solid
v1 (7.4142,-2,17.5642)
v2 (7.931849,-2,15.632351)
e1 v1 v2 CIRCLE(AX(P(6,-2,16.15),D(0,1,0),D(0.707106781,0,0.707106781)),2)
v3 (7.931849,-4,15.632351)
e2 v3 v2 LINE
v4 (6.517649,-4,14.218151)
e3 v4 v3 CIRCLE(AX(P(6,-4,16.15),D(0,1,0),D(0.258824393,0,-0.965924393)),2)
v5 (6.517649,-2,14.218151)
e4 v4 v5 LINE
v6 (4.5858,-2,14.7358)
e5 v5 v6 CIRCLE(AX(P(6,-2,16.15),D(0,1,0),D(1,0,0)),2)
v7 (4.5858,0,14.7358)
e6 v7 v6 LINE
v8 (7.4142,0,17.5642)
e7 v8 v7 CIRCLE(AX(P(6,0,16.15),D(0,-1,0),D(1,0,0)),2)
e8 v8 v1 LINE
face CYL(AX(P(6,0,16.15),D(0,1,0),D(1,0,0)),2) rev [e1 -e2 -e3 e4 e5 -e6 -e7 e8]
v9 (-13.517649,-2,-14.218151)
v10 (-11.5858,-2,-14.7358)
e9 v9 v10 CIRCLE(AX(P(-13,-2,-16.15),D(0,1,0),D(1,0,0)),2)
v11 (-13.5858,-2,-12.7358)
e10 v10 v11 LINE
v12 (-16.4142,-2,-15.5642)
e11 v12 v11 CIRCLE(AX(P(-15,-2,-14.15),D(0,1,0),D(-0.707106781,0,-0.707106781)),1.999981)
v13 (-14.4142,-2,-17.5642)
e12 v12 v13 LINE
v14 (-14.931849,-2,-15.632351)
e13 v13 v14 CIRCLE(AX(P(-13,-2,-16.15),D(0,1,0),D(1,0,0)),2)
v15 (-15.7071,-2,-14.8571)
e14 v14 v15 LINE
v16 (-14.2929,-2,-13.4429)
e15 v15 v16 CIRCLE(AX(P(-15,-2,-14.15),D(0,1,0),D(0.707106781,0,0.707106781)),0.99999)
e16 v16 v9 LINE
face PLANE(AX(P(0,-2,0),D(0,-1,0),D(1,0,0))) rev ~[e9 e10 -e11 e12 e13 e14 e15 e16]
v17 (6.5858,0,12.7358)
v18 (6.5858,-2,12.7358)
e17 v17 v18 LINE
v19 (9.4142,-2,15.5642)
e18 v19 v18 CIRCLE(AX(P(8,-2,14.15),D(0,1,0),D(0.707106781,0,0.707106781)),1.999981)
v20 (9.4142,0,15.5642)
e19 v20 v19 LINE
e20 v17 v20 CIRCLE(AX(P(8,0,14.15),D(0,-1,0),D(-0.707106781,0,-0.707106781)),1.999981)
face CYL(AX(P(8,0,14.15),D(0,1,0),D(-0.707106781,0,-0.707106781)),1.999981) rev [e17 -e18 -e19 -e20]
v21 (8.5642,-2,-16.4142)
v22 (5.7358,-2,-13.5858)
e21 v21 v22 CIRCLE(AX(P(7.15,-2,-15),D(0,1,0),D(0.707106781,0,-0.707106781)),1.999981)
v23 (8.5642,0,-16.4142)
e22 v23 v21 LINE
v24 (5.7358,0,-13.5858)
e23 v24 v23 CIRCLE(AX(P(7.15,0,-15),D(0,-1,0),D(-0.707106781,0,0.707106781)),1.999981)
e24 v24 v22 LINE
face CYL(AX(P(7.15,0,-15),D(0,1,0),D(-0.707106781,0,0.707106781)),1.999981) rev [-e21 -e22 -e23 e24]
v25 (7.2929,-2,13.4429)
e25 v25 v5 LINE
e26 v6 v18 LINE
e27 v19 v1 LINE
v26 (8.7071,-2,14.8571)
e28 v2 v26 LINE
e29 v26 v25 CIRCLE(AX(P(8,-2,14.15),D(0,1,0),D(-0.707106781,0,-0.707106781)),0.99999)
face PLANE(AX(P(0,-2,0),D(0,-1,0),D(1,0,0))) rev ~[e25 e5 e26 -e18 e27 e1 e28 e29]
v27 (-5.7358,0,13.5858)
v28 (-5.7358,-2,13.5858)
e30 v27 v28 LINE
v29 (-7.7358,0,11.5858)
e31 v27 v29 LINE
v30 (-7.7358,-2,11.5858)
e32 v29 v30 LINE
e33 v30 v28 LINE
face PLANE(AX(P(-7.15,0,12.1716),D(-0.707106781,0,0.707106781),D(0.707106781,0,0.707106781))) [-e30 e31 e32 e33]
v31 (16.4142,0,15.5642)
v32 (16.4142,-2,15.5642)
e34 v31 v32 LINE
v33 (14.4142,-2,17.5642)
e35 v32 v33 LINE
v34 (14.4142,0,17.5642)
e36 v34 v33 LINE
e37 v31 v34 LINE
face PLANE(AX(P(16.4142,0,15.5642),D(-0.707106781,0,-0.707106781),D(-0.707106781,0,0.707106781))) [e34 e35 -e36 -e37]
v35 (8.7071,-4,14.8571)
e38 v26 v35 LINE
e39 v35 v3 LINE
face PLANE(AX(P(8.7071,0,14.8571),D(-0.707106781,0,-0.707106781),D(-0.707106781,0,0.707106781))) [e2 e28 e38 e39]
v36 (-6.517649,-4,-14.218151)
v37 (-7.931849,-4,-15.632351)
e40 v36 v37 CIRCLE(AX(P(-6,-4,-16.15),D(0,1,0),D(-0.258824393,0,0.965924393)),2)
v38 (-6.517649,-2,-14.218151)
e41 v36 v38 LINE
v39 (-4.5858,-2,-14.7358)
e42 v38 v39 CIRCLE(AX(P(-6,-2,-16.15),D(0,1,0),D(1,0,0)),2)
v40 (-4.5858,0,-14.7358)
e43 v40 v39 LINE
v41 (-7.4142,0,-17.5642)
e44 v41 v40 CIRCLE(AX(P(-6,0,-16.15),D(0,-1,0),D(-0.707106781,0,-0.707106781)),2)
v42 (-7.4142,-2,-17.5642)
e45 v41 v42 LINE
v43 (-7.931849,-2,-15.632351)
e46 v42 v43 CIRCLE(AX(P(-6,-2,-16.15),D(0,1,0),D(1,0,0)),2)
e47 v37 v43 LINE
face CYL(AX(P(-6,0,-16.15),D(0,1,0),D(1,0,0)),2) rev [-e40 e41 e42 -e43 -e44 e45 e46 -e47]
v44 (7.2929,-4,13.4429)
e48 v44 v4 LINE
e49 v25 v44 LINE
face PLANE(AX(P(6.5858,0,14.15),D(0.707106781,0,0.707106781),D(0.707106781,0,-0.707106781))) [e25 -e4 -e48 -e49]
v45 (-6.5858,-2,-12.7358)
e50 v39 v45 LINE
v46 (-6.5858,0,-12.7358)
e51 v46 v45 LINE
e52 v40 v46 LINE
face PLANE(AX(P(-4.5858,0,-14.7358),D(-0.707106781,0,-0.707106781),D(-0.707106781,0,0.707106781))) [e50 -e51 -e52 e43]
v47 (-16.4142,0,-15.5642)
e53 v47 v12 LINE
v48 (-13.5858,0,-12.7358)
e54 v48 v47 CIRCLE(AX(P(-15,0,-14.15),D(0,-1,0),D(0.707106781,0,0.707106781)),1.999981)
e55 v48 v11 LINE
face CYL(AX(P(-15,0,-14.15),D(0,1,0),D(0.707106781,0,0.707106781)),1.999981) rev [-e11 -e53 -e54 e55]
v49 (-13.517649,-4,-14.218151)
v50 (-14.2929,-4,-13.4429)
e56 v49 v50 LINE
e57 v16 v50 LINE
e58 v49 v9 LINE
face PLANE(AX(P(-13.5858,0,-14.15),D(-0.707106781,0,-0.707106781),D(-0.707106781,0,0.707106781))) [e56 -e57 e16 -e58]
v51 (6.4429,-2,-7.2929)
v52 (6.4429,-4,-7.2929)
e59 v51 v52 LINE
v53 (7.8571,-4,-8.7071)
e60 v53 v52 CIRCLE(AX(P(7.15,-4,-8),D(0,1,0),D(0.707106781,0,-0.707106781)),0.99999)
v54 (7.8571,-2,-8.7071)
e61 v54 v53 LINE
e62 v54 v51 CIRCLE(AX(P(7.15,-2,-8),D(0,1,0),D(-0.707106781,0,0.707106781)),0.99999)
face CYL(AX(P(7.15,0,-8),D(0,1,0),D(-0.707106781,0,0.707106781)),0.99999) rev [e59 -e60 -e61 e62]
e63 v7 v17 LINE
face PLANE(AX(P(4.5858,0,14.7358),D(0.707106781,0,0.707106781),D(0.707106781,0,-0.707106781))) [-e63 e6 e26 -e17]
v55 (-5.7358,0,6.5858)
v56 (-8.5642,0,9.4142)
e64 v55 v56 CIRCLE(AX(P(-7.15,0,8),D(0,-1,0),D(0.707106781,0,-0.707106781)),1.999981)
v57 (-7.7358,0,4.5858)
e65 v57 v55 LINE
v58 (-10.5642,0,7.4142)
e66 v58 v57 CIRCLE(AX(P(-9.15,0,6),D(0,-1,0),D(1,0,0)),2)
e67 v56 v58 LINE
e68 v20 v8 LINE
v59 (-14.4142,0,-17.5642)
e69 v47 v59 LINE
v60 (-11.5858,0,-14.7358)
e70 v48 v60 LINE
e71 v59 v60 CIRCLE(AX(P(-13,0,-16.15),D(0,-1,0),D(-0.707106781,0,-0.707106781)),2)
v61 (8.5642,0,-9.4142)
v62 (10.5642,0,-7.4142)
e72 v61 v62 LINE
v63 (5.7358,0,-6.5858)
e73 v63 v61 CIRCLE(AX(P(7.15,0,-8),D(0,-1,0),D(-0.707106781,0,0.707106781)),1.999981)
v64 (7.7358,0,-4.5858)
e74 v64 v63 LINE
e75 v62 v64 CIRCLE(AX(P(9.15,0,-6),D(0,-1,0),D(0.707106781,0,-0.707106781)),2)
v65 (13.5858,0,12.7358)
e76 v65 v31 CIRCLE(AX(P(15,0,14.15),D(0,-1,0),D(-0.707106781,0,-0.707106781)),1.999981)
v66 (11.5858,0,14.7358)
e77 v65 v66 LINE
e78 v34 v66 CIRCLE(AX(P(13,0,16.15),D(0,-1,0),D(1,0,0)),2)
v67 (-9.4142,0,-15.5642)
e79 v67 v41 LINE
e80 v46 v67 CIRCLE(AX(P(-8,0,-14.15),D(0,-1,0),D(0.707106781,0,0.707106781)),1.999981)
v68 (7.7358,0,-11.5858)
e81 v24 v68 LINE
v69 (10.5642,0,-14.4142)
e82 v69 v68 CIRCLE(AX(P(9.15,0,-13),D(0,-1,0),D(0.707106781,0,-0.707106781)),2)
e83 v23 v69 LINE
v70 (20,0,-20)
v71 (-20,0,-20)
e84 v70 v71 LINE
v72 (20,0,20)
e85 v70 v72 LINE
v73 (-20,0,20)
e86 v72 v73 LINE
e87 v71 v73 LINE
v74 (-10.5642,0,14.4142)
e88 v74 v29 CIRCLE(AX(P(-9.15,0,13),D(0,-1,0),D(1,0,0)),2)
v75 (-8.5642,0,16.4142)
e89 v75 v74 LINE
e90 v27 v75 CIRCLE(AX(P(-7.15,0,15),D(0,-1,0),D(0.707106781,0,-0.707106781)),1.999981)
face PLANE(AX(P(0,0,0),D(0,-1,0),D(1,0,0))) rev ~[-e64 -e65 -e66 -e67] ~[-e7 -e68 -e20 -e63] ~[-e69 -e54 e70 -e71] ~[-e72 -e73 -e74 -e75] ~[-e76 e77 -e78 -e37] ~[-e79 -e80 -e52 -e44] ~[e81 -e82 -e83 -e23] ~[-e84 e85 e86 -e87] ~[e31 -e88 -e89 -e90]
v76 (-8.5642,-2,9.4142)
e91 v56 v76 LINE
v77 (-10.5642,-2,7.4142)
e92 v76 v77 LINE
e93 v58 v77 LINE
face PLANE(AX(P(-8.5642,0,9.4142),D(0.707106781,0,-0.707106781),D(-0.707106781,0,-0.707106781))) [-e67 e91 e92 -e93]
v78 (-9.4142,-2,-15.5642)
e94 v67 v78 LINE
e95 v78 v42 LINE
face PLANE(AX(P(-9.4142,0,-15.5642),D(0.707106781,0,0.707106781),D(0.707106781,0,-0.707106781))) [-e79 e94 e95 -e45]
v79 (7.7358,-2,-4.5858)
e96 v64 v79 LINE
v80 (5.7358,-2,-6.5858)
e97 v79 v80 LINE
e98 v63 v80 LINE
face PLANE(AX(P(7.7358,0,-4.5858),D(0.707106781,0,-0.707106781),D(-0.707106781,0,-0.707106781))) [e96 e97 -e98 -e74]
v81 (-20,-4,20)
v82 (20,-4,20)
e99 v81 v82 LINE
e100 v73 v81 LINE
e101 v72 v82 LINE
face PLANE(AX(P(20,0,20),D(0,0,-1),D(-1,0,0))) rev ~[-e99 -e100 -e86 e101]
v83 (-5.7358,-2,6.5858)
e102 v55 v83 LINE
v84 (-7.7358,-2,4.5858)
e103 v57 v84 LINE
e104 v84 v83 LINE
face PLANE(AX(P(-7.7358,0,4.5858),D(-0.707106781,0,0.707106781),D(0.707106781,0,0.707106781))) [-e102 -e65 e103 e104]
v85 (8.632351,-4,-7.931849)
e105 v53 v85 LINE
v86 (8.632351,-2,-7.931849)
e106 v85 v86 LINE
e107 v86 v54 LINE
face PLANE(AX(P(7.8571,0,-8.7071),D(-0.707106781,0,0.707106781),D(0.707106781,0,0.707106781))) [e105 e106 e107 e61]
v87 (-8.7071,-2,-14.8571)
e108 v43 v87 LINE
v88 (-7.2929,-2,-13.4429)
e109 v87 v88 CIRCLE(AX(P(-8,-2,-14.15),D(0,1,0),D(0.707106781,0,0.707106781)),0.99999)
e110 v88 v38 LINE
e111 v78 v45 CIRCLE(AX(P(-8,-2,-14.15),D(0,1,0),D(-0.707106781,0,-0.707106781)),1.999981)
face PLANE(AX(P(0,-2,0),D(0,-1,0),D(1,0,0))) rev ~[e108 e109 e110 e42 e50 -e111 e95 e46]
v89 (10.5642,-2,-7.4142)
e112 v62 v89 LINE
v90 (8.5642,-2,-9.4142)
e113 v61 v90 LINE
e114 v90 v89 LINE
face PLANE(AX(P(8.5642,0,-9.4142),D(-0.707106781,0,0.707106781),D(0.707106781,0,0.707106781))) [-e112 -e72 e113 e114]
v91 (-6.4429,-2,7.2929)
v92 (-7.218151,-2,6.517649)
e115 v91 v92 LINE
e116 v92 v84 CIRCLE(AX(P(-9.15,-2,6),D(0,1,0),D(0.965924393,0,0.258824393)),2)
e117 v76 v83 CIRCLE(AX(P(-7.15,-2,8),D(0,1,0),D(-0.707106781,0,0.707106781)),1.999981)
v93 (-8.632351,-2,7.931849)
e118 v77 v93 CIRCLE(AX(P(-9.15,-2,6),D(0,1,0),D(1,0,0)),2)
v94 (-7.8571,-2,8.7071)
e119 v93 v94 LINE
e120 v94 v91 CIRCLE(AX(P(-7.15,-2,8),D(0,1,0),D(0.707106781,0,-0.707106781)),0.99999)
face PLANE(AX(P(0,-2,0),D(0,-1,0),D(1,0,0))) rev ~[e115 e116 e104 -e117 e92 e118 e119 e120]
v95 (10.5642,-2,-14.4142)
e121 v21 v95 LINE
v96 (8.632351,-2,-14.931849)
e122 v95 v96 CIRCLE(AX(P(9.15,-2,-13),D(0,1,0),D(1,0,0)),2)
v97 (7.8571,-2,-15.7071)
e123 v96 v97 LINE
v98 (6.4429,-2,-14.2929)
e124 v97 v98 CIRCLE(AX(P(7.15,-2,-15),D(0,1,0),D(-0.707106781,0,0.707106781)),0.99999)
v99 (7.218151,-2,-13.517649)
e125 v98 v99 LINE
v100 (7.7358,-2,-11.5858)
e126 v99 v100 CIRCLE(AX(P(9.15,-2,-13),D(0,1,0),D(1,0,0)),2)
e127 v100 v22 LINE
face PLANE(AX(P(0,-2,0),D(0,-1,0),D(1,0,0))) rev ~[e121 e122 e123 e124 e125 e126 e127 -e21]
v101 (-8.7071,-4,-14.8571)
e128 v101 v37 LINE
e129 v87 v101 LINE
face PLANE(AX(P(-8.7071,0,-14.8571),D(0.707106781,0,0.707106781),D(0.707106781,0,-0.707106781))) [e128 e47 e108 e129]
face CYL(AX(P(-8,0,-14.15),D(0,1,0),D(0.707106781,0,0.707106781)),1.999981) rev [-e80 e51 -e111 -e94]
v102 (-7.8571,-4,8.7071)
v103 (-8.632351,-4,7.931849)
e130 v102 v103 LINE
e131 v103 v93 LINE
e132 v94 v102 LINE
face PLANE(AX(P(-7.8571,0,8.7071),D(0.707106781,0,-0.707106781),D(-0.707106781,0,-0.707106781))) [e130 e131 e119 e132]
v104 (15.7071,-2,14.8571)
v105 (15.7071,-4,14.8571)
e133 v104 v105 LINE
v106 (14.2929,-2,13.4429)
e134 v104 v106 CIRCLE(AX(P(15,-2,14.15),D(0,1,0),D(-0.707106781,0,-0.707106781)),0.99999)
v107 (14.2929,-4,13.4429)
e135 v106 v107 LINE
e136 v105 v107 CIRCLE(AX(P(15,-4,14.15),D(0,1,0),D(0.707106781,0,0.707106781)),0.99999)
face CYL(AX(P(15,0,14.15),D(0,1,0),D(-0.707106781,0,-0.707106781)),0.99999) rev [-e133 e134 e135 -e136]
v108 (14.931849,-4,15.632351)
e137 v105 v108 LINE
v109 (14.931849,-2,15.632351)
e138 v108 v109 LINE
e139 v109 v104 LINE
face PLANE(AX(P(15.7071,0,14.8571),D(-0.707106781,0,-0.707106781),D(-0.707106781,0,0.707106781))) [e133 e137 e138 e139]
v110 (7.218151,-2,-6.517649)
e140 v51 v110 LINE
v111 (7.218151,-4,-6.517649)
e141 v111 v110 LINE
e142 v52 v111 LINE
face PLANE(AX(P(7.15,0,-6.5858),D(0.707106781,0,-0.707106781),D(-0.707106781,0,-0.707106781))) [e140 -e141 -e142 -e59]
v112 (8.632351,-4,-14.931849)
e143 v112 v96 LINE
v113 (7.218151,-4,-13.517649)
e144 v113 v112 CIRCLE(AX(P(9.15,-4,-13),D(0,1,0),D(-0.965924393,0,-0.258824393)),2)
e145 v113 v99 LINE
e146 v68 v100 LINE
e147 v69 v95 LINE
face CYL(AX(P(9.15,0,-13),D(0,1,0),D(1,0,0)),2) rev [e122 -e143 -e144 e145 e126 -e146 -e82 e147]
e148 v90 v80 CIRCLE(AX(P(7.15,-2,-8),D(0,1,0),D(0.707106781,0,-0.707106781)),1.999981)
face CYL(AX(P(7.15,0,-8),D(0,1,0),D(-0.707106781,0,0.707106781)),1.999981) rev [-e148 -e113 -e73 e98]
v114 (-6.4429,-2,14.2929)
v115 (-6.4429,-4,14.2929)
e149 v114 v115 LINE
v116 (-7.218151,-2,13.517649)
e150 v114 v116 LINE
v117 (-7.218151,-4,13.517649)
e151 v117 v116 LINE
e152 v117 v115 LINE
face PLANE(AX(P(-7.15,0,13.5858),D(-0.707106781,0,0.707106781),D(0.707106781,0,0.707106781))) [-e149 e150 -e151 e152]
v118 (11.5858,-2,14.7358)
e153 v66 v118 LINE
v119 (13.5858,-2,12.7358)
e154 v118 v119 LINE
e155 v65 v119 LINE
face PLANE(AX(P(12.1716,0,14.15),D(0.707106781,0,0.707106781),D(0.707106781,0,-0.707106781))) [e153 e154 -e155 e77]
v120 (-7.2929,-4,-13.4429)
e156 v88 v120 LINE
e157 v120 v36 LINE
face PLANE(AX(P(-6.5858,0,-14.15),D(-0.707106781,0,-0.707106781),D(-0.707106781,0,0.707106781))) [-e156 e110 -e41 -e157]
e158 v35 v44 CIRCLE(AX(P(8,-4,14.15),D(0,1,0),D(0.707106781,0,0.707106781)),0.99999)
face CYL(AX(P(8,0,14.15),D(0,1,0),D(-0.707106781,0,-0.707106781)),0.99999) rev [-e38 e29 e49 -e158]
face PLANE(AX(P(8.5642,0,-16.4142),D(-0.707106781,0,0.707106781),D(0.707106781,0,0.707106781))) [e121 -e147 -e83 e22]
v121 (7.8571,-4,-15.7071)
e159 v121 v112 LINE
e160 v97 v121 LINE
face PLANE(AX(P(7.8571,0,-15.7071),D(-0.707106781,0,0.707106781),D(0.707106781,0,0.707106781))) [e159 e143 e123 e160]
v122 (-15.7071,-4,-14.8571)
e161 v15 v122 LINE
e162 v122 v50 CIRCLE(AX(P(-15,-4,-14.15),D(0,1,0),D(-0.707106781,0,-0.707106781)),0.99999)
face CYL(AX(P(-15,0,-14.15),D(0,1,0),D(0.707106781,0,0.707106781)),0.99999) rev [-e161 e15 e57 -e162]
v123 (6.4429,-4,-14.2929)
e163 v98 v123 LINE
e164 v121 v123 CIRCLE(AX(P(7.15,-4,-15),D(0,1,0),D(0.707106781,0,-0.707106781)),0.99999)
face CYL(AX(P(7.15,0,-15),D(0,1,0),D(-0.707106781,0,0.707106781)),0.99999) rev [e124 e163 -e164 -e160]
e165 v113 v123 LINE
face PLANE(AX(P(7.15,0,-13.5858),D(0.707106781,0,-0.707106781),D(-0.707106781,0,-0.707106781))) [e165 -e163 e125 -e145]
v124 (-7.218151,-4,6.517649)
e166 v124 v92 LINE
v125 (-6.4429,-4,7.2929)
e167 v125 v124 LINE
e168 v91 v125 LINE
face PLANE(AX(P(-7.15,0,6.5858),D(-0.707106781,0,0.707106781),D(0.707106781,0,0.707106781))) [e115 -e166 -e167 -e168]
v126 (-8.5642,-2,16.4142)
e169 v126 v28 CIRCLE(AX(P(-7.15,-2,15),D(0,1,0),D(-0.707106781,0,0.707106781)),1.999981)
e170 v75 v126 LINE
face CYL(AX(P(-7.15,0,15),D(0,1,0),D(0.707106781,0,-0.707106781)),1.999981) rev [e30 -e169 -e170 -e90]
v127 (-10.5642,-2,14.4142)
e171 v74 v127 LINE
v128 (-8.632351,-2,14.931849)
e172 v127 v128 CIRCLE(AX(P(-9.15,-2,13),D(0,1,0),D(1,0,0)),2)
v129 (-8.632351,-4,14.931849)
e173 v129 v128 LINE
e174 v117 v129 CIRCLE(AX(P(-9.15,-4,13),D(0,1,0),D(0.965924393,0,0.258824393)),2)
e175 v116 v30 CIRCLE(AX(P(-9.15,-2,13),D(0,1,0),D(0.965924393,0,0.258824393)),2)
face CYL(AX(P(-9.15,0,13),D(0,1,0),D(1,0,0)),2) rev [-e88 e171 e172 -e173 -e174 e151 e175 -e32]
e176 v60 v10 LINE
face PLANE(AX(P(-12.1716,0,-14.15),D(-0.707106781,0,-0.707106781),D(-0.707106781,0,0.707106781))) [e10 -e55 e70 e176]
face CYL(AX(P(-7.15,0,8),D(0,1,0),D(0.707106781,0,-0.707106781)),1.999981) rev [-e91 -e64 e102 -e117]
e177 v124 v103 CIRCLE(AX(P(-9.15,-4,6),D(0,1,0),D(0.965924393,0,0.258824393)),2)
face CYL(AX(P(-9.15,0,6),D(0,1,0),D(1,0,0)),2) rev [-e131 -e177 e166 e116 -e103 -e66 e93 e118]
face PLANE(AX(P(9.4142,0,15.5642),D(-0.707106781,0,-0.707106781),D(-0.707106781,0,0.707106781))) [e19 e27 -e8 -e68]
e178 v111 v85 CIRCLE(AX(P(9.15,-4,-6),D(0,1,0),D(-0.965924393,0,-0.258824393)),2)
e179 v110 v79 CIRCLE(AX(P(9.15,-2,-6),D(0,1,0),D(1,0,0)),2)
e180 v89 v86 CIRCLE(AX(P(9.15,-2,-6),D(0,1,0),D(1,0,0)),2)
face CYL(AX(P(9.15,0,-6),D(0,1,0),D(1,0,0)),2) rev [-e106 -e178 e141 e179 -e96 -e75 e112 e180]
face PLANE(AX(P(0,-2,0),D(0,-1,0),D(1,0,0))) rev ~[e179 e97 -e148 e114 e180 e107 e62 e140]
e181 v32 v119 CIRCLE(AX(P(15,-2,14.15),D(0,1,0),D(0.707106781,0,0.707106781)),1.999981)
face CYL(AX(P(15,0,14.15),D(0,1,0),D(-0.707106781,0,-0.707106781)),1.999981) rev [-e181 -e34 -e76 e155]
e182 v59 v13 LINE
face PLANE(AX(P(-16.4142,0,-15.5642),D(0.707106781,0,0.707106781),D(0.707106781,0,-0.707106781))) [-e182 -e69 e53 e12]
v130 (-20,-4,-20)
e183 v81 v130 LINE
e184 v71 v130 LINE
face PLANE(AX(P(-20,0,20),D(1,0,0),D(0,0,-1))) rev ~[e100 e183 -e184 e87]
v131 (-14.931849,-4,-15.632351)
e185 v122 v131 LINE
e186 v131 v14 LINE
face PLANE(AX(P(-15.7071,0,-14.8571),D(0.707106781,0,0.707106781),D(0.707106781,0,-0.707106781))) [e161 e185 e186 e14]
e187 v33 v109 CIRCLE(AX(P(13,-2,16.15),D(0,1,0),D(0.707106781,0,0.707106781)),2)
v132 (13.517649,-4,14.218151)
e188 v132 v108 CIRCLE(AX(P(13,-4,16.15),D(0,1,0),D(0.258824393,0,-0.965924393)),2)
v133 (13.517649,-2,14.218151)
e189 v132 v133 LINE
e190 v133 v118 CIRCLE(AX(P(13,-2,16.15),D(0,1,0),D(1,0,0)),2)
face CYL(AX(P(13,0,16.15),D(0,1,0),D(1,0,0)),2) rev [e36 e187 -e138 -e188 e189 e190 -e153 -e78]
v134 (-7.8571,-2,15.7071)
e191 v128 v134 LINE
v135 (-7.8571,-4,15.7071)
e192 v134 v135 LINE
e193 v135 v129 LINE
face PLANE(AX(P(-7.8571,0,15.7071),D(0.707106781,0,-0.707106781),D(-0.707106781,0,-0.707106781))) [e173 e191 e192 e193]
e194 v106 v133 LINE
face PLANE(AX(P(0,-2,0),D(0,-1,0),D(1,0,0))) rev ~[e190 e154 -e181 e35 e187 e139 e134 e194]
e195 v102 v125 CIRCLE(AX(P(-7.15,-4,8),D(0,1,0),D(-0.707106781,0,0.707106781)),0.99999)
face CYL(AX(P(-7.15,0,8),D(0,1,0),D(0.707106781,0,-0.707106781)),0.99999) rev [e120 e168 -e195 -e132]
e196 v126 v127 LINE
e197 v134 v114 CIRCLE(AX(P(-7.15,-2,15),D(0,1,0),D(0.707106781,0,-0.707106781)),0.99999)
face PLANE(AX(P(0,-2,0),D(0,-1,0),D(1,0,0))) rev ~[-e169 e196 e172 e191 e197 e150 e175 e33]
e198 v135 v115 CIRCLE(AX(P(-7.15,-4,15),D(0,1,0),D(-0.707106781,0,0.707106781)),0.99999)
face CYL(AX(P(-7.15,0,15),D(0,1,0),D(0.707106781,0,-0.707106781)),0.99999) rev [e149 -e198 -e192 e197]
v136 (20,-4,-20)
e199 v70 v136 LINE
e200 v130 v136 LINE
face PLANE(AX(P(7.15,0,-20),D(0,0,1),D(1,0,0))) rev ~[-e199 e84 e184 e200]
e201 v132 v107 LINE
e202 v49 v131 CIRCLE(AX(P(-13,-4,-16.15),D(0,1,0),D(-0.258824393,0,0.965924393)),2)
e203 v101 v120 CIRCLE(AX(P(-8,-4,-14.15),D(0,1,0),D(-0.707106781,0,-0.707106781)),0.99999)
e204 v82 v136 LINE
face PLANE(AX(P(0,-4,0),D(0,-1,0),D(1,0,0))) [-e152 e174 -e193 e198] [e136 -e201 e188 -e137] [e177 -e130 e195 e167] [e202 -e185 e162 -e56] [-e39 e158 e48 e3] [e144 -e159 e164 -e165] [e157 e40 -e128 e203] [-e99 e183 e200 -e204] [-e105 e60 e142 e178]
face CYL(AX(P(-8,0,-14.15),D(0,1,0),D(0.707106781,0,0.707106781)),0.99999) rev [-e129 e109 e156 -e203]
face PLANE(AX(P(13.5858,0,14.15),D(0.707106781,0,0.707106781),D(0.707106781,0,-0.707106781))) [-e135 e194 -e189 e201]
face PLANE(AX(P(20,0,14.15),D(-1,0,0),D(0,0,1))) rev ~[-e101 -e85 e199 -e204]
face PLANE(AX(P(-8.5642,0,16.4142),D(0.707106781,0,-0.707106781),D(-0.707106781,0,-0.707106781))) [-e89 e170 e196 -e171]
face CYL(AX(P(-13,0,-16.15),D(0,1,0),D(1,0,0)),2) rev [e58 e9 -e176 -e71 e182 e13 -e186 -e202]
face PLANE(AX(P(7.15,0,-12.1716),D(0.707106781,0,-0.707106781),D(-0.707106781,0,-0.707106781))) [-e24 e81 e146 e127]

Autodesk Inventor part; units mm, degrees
ref_plane "YZ Plane" through (0, 0, 0) normal (1, 0, 0) x (0, 1, 0)
ref_plane "XZ Plane" through (0, 0, 0) normal (0, 1, 0) x (-1, 0, 0)
ref_plane "XY Plane" through (0, 0, 0) normal (0, 0, 1) x (1, 0, 0)
sketch "Sketch6" plane through (0, 0, 0) normal (0, 1, 0) x (-1, 0, 0)
  line L0 (20, 20) -> (-20, 20)
  line L1 (-20, 20) -> (-20, -20)
  line L2 (-20, -20) -> (20, -20)
  line L3 (20, -20) -> (20, 20)
  line L4 (20, 20) -> (-20, -20) construction
  line L5 (-20, 20) -> (20, -20) construction
  line L6 (2.15, 11.15) -> (-2.15, 11.15)
  line L7 (-2.15, 11.15) -> (-2.15, -11.15)
  line L8 (-2.15, -11.15) -> (2.15, -11.15)
  line L9 (2.15, -11.15) -> (2.15, 11.15)
  line L10 (2.15, 11.15) -> (-2.15, -11.15) construction
  line L11 (-2.15, 11.15) -> (2.15, -11.15) construction
  line L12 (2.15, -11.15) -> (-20, -11.15)
  line L13 (-20, -11.15) -> (-20, -20)
  line L14 (-20, -20) -> (2.15, -20)
  line L15 (2.15, -20) -> (2.15, -11.15)
  line L16 (-2.15, 11.15) -> (20, 11.15)
  line L17 (20, 11.15) -> (20, 20)
  line L18 (20, 20) -> (-2.15, 20)
  line L19 (-2.15, 20) -> (-2.15, 11.15)
  line L20 (-20, -11.15) -> (-15, -11.15)
  line L21 (-15, -11.15) -> (-15, -14.15)
  line L22 (-15, -14.15) -> (-20, -14.15)
  line L23 (-20, -14.15) -> (-20, -11.15)
  line L24 (-20, -11.15) -> (-8, -11.15)
  line L25 (-8, -11.15) -> (-8, -14.15)
  line L26 (-8, -14.15) -> (-20, -14.15)
  line L27 (-20, -14.15) -> (-20, -11.15)
  line L28 (-2.15, 20) -> (-7.15, 20)
  line L29 (-7.15, 20) -> (-7.15, 15)
  line L30 (-7.15, 15) -> (-2.15, 15)
  line L31 (-2.15, 15) -> (-2.15, 20)
  line L32 (-2.15, 20) -> (-7.15, 20)
  line L33 (-7.15, 20) -> (-7.15, 8)
  line L34 (-7.15, 8) -> (-2.15, 8)
  line L35 (-2.15, 8) -> (-2.15, 20)
  line L36 (20, 11.15) -> (15, 11.15)
  line L37 (15, 11.15) -> (15, 14.15)
  line L38 (15, 14.15) -> (20, 14.15)
  line L39 (20, 14.15) -> (20, 11.15)
  line L40 (20, 11.15) -> (8, 11.15)
  line L41 (8, 11.15) -> (8, 14.15)
  line L42 (8, 14.15) -> (20, 14.15)
  line L43 (20, 14.15) -> (20, 11.15)
  line L44 (2.15, -20) -> (7.15, -20)
  line L45 (7.15, -20) -> (7.15, -15)
  line L46 (7.15, -15) -> (2.15, -15)
  line L47 (2.15, -15) -> (2.15, -20)
  line L48 (2.15, -20) -> (7.15, -20)
  line L49 (7.15, -20) -> (7.15, -8)
  line L50 (7.15, -8) -> (2.15, -8)
  line L51 (2.15, -8) -> (2.15, -20)
  circle A0 centre (-13, -16.15) radius 2
  circle A1 centre (-6, -16.15) radius 2
  circle A2 centre (9.15, -13) radius 2
  circle A3 centre (9.15, -6) radius 2
  circle A4 centre (6, 16.15) radius 2
  circle A5 centre (13, 16.15) radius 2
  circle A6 centre (-9.15, 6) radius 2
  circle A7 centre (-9.15, 13) radius 2
  line L52 (-13, -16.15) -> (-15, -16.15)
  line L53 (-15, -16.15) -> (-15, -14.15)
  line L54 (-15, -14.15) -> (-13, -14.15)
  line L55 (-13, -14.15) -> (-13, -16.15)
  line L56 (-6, -16.15) -> (-8, -16.15)
  line L57 (-8, -16.15) -> (-8, -14.15)
  line L58 (-8, -14.15) -> (-6, -14.15)
  line L59 (-6, -14.15) -> (-6, -16.15)
  line L60 (9.15, -13) -> (7.15, -13)
  line L61 (7.15, -13) -> (7.15, -15)
  line L62 (7.15, -15) -> (9.15, -15)
  line L63 (9.15, -15) -> (9.15, -13)
  line L64 (9.15, -6) -> (7.15, -6)
  line L65 (7.15, -6) -> (7.15, -8)
  line L66 (7.15, -8) -> (9.15, -8)
  line L67 (9.15, -8) -> (9.15, -6)
  line L68 (13, 16.15) -> (15, 16.15)
  line L69 (15, 16.15) -> (15, 14.15)
  line L70 (15, 14.15) -> (13, 14.15)
  line L71 (13, 14.15) -> (13, 16.15)
  line L72 (6, 16.15) -> (8, 16.15)
  line L73 (8, 16.15) -> (8, 14.15)
  line L74 (8, 14.15) -> (6, 14.15)
  line L75 (6, 14.15) -> (6, 16.15)
  line L76 (-9.15, 13) -> (-7.15, 13)
  line L77 (-7.15, 13) -> (-7.15, 15)
  line L78 (-7.15, 15) -> (-9.15, 15)
  line L79 (-9.15, 15) -> (-9.15, 13)
  line L80 (-9.15, 6) -> (-7.15, 6)
  line L81 (-7.15, 6) -> (-7.15, 8)
  line L82 (-7.15, 8) -> (-9.15, 8)
  line L83 (-9.15, 8) -> (-9.15, 6)
  line L84 (-15, -14.15) -> (-13, -16.15) construction
  line L85 (-16.4142, -15.5642) -> (-14.4142, -17.5642)
  line L86 (-11.5858, -14.7358) -> (-13.5858, -12.7358)
  arc A8 (-13.5858, -12.7358) -> (-16.4142, -15.5642) centre (-15, -14.15) ccw
  arc A9 (-14.4142, -17.5642) -> (-11.5858, -14.7358) centre (-13, -16.15) ccw
  line L87 (-8, -14.15) -> (-6, -16.15) construction
  line L88 (-9.4142, -15.5642) -> (-7.4142, -17.5642)
  line L89 (-4.5858, -14.7358) -> (-6.5858, -12.7358)
  arc A10 (-6.5858, -12.7358) -> (-9.4142, -15.5642) centre (-8, -14.15) ccw
  arc A11 (-7.4142, -17.5642) -> (-4.5858, -14.7358) centre (-6, -16.15) ccw
  line L90 (7.15, -15) -> (9.15, -13) construction
  line L91 (8.5642, -16.4142) -> (10.5642, -14.4142)
  line L92 (7.7358, -11.5858) -> (5.7358, -13.5858)
  arc A12 (5.7358, -13.5858) -> (8.5642, -16.4142) centre (7.15, -15) ccw
  arc A13 (10.5642, -14.4142) -> (7.7358, -11.5858) centre (9.15, -13) ccw
  line L93 (7.15, -8) -> (9.15, -6) construction
  line L94 (8.5642, -9.4142) -> (10.5642, -7.4142)
  line L95 (7.7358, -4.5858) -> (5.7358, -6.5858)
  arc A14 (5.7358, -6.5858) -> (8.5642, -9.4142) centre (7.15, -8) ccw
  arc A15 (10.5642, -7.4142) -> (7.7358, -4.5858) centre (9.15, -6) ccw
  line L96 (15, 14.15) -> (13, 16.15) construction
  line L97 (16.4142, 15.5642) -> (14.4142, 17.5642)
  line L98 (11.5858, 14.7358) -> (13.5858, 12.7358)
  arc A16 (13.5858, 12.7358) -> (16.4142, 15.5642) centre (15, 14.15) ccw
  arc A17 (14.4142, 17.5642) -> (11.5858, 14.7358) centre (13, 16.15) ccw
  line L99 (8, 14.15) -> (6, 16.15) construction
  line L100 (9.4142, 15.5642) -> (7.4142, 17.5642)
  line L101 (4.5858, 14.7358) -> (6.5858, 12.7358)
  arc A18 (6.5858, 12.7358) -> (9.4142, 15.5642) centre (8, 14.15) ccw
  arc A19 (7.4142, 17.5642) -> (4.5858, 14.7358) centre (6, 16.15) ccw
  line L102 (-7.15, 15) -> (-9.15, 13) construction
  line L103 (-8.5642, 16.4142) -> (-10.5642, 14.4142)
  line L104 (-7.7358, 11.5858) -> (-5.7358, 13.5858)
  arc A20 (-5.7358, 13.5858) -> (-8.5642, 16.4142) centre (-7.15, 15) ccw
  arc A21 (-10.5642, 14.4142) -> (-7.7358, 11.5858) centre (-9.15, 13) ccw
  line L105 (-7.15, 8) -> (-9.15, 6) construction
  line L106 (-8.5642, 9.4142) -> (-10.5642, 7.4142)
  line L107 (-7.7358, 4.5858) -> (-5.7358, 6.5858)
  arc A22 (-5.7358, 6.5858) -> (-8.5642, 9.4142) centre (-7.15, 8) ccw
  arc A23 (-10.5642, 7.4142) -> (-7.7358, 4.5858) centre (-9.15, 6) ccw
  line L108 (9.15, -13) -> (7.15, -15) construction
  line L109 (8.4429, -12.2929) -> (6.4429, -14.2929)
  line L110 (7.8571, -15.7071) -> (9.8571, -13.7071)
  arc A24 (9.8571, -13.7071) -> (8.4429, -12.2929) centre (9.15, -13) ccw
  arc A25 (6.4429, -14.2929) -> (7.8571, -15.7071) centre (7.15, -15) ccw
  line L111 (-6, -16.15) -> (-8, -14.15) construction
  line L112 (-5.2929, -15.4429) -> (-7.2929, -13.4429)
  line L113 (-8.7071, -14.8571) -> (-6.7071, -16.8571)
  arc A26 (-6.7071, -16.8571) -> (-5.2929, -15.4429) centre (-6, -16.15) ccw
  arc A27 (-7.2929, -13.4429) -> (-8.7071, -14.8571) centre (-8, -14.15) ccw
  line L114 (-13, -16.15) -> (-15, -14.15) construction
  line L115 (-12.2929, -15.4429) -> (-14.2929, -13.4429)
  line L116 (-15.7071, -14.8571) -> (-13.7071, -16.8571)
  arc A28 (-13.7071, -16.8571) -> (-12.2929, -15.4429) centre (-13, -16.15) ccw
  arc A29 (-14.2929, -13.4429) -> (-15.7071, -14.8571) centre (-15, -14.15) ccw
  line L117 (9.15, -6) -> (7.15, -8) construction
  line L118 (8.4429, -5.2929) -> (6.4429, -7.2929)
  line L119 (7.8571, -8.7071) -> (9.8571, -6.7071)
  arc A30 (9.8571, -6.7071) -> (8.4429, -5.2929) centre (9.15, -6) ccw
  arc A31 (6.4429, -7.2929) -> (7.8571, -8.7071) centre (7.15, -8) ccw
  line L120 (15, 14.15) -> (13, 16.15) construction
  line L121 (15.7071, 14.8571) -> (13.7071, 16.8571)
  line L122 (12.2929, 15.4429) -> (14.2929, 13.4429)
  arc A32 (14.2929, 13.4429) -> (15.7071, 14.8571) centre (15, 14.15) ccw
  arc A33 (13.7071, 16.8571) -> (12.2929, 15.4429) centre (13, 16.15) ccw
  line L123 (6, 16.15) -> (8, 14.15) construction
  line L124 (5.2929, 15.4429) -> (7.2929, 13.4429)
  line L125 (8.7071, 14.8571) -> (6.7071, 16.8571)
  arc A34 (6.7071, 16.8571) -> (5.2929, 15.4429) centre (6, 16.15) ccw
  arc A35 (7.2929, 13.4429) -> (8.7071, 14.8571) centre (8, 14.15) ccw
  line L126 (-7.15, 8) -> (-9.15, 6) construction
  line L127 (-7.8571, 8.7071) -> (-9.8571, 6.7071)
  line L128 (-8.4429, 5.2929) -> (-6.4429, 7.2929)
  arc A36 (-6.4429, 7.2929) -> (-7.8571, 8.7071) centre (-7.15, 8) ccw
  arc A37 (-9.8571, 6.7071) -> (-8.4429, 5.2929) centre (-9.15, 6) ccw
  line L129 (-7.15, 15) -> (-9.15, 13) construction
  line L130 (-7.8571, 15.7071) -> (-9.8571, 13.7071)
  line L131 (-8.4429, 12.2929) -> (-6.4429, 14.2929)
  arc A38 (-6.4429, 14.2929) -> (-7.8571, 15.7071) centre (-7.15, 15) ccw
  arc A39 (-9.8571, 13.7071) -> (-8.4429, 12.2929) centre (-9.15, 13) ccw
  point P0 (0, 0)
  point P1 (-14, -15.15)
  point P2 (-7, -15.15)
  point P3 (8.15, -14)
  point P4 (8.15, -7)
  point P5 (14, 15.15)
  point P6 (7, 15.15)
  point P7 (-8.15, 14)
  point P8 (-8.15, 7)
  point P9 (8.15, -14)
  point P10 (-7, -15.15)
  point P11 (-14, -15.15)
  point P12 (8.15, -7)
  point P13 (14, 15.15)
  point P14 (7, 15.15)
  point P15 (-8.15, 7)
  point P16 (-8.15, 14)
  dimension "d79" = 40
  dimension "d80" = 40
  dimension "d81" = 4.3
  dimension "d82" = 22.3
  dimension "d83" = 5
  dimension "d84" = 3
  dimension "d85" = 12
  dimension "d86" = 5
  dimension "d87" = 5
  dimension "d88" = 12
  dimension "d93" = 5
  dimension "d94" = 3
  dimension "d95" = 12
  dimension "d96" = 5
  dimension "d97" = 5
  dimension "d98" = 12
  dimension "d127" = 4
  dimension "d128" = 4
  dimension "d129" = 4
  dimension "d130" = 4
  dimension "d131" = 4
  dimension "d132" = 4
  dimension "d133" = 4
  dimension "d134" = 4
  dimension "d137" = 4
  dimension "d140" = 2
  dimension "d141" = 2
  dimension "d142" = 2
  dimension "d143" = 2
  dimension "d144" = 2
  dimension "d145" = 2
  dimension "d146" = 2
  dimension "d147" = 2
extrude "Extrusion9" add sketch "Sketch6" along normal blind 4 contours L3 L38 A16 L97 A5 L98 L42 A18 L100 A4 L101 L41 L16 L6 L19 L0 | L19 L30 A20 L29 L0 | L3 L16 L37 A16 L38 | L29 A20 L103 A7 L104 L33 A22 L106 A6 L107 L34 L7 L12 L1 L0 | L19 L7 L34 A22 L33 L104 A20 L30 | L3 L2 L45 A12 L91 A2 L92 L49 A14 L94 A3 L95 L50 L9 L16 | A16 L37 A32 L38 | L38 A32 L121 L69 A5 L97 A16 | A20 L30 A38 L29 | L29 A38 L130 L78 A7 L103 A20 | L6 L9 L8 L7 | A20 L104 L33 L131 A38 L30 | L16 L41 A18 L42 L98 A16 L37 | A32 L37 L38 | L38 L69 L121 A32 | A16 L98 L42 L122 A32 L37 | L12 L21 A8 L22 L1 | A38 L30 L29 | L29 L78 L130 A38 | A38 L131 L33 L30 | L2 L15 L46 A12 L45 | L37 A32 L122 L42 | L42 L122 A5 L121 L69 | L22 A8 L85 A0 L86 L26 A10 L88 A1 L89 L25 L12 L8 L15 L2 L1 | L12 L25 A10 L26 L86 A8 L21 | L33 L131 A7 L130 L78 | L50 A14 L49 L92 A12 L46 L15 L9 | A22 L107 A6 L81 L128 A36 L34 | L34 A36 L33 A22 | L104 A7 L33 | A12 L46 A25 L45 | L45 A25 L110 L62 A2 L91 A12 | A18 L101 A4 L74 L124 A35 L41 | L41 A35 L42 A18 | L42 A5 L122 | L121 A5 L69 | L98 A5 L42 | A8 L21 A29 L22 | L22 A29 L116 L53 A0 L85 A8 | A8 L86 L26 L115 A29 L21 | L33 A7 L131 | L130 A7 L78 | A14 L95 A3 L65 L118 A31 L50 | L50 A31 L49 A14 | A36 L128 L81 L34 | L34 L33 A36 | L33 A36 L127 L82 A6 L106 A22 | A25 L46 L45 | L45 L62 L110 A25 | A12 L92 L49 L109 A25 L46 | A35 L124 L74 L41 | L41 L42 A35 | L42 A35 L125 L73 A4 L100 A18 | A29 L21 L22 | L22 L53 L116 A29 | A10 L89 A1 L58 L112 A27 L25 | L25 A27 L26 A10 | A29 L115 L26 L21 | A31 L118 L65 L50 | L50 L49 A31 | L49 A31 L119 L66 A3 L94 A14 | L82 L127 A36 L33 | L81 L128 A6 L127 L82 | L46 A25 L109 L49 | L49 L109 A2 L110 L62 | L73 L125 A35 L42 | L74 L124 A4 L125 L73 | L26 L115 A0 L116 L53 | A27 L112 L58 L25 | L25 L26 A27 | L26 A27 L113 L57 A1 L88 A10 | L86 A0 L26 | L66 L119 A31 L49 | L65 L118 A3 L119 L66 | L92 A2 L49 | L81 A6 L128 | L127 A6 L82 | L49 A2 L109 | L110 A2 L62 | L125 A4 L73 | L74 A4 L124 | L26 A0 L115 | L116 A0 L53 | L57 L113 A27 L26 | L58 L112 A1 L113 L57 | L65 A3 L118 | L119 A3 L66 | L113 A1 L57 | L58 A1 L112
extrude "Extrusion10" cut sketch "Sketch6" along normal blind 2 contours A16 L37 A32 L38 | L38 A32 L121 L69 A5 L97 A16 | A20 L30 A38 L29 | L29 A38 L130 L78 A7 L103 A20 | A20 L104 L33 L131 A38 L30 | A32 L37 L38 | L38 L69 L121 A32 | A16 L98 L42 L122 A32 L37 | A38 L30 L29 | L29 L78 L130 A38 | A38 L131 L33 L30 | L37 A32 L122 L42 | L42 L122 A5 L121 L69 | A5 L68 L121 A33 L122 L71 | L33 L131 A7 L130 L78 | A7 L79 L130 A39 L131 L76 | A22 L107 A6 L81 L128 A36 L34 | L34 A36 L33 A22 | L104 A7 L33 | A12 L46 A25 L45 | L45 A25 L110 L62 A2 L91 A12 | A18 L101 A4 L74 L124 A35 L41 | L41 A35 L42 A18 | L42 A5 L122 | L121 A5 L69 | L98 A5 L42 | A5 L121 L68 | A8 L21 A29 L22 | L22 A29 L116 L53 A0 L85 A8 | A8 L86 L26 L115 A29 L21 | L33 A7 L131 | L130 A7 L78 | A7 L130 L79 | A14 L95 A3 L65 L118 A31 L50 | L50 A31 L49 A14 | A36 L128 L81 L34 | L34 L33 A36 | L33 A36 L127 L82 A6 L106 A22 | L76 L131 A7 | A25 L46 L45 | L45 L62 L110 A25 | A12 L92 L49 L109 A25 L46 | A35 L124 L74 L41 | L41 L42 A35 | L42 A35 L125 L73 A4 L100 A18 | L71 L122 A5 | L122 L71 L68 L121 A5 | L68 L71 L122 A33 L121 | A29 L21 L22 | L22 L53 L116 A29 | A10 L89 A1 L58 L112 A27 L25 | L25 A27 L26 A10 | A29 L115 L26 L21 | L131 L76 L79 L130 A7 | L79 L76 L131 A39 L130 | A31 L118 L65 L50 | L50 L49 A31 | L49 A31 L119 L66 A3 L94 A14 | L82 L127 A36 L33 | L81 L128 A6 L127 L82 | A6 L83 L127 A37 L128 L80 | L46 A25 L109 L49 | L49 L109 A2 L110 L62 | A2 L63 L110 A24 L109 L60 | L73 L125 A35 L42 | L74 L124 A4 L125 L73 | A4 L72 L125 A34 L124 L75 | L26 L115 A0 L116 L53 | A0 L52 L116 A28 L115 L55 | A27 L112 L58 L25 | L25 L26 A27 | L26 A27 L113 L57 A1 L88 A10 | L86 A0 L26 | L66 L119 A31 L49 | L65 L118 A3 L119 L66 | A3 L67 L119 A30 L118 L64 | L92 A2 L49 | L81 A6 L128 | L127 A6 L82 | L80 L128 A6 | L49 A2 L109 | L110 A2 L62 | A2 L110 L63 | L125 A4 L73 | L74 A4 L124 | L75 L124 A4 | L26 A0 L115 | L116 A0 L53 | A0 L116 L52 | L57 L113 A27 L26 | L58 L112 A1 L113 L57 | A1 L56 L113 A26 L112 L59 | L55 L115 A0 | L65 A3 L118 | L119 A3 L66 | L64 L118 A3 | L60 L109 A2 | L128 L80 L83 L127 A6 | A6 L127 L83 | L128 A37 L127 L83 L80 | L109 L60 L63 L110 A2 | L63 L60 L109 A24 L110 | A4 L125 L72 | A4 L124 L75 L72 L125 | L124 A34 L125 L72 L75 | L115 L55 L52 L116 A0 | L52 L55 L115 A28 L116 | L113 A1 L57 | L58 A1 L112 | L59 L112 A1 | L118 L64 L67 L119 A3 | A3 L119 L67 | L118 A30 L119 L67 L64 | A1 L113 L56 | A1 L112 L59 L56 L113 | L112 A26 L113 L56 L59
extrude "Extrusion11" cut sketch "Sketch6" along normal blind 4 contours A32 L37 L38 | L38 L69 L121 A32 | A38 L30 L29 | L29 L78 L130 A38 | A38 L131 L33 L30 | L37 A32 L122 L42 | L42 L122 A5 L121 L69 | L33 L131 A7 L130 L78 | A36 L128 L81 L34 | L34 L33 A36 | A25 L46 L45 | L45 L62 L110 A25 | A35 L124 L74 L41 | L41 L42 A35 | L122 L71 L68 L121 A5 | L68 L71 L122 A33 L121 | A29 L21 L22 | L22 L53 L116 A29 | A29 L115 L26 L21 | L131 L76 L79 L130 A7 | L79 L76 L131 A39 L130 | A31 L118 L65 L50 | L50 L49 A31 | L82 L127 A36 L33 | L81 L128 A6 L127 L82 | L46 A25 L109 L49 | L49 L109 A2 L110 L62 | L73 L125 A35 L42 | L74 L124 A4 L125 L73 | L26 L115 A0 L116 L53 | A27 L112 L58 L25 | L25 L26 A27 | L66 L119 A31 L49 | L65 L118 A3 L119 L66 | L57 L113 A27 L26 | L58 L112 A1 L113 L57 | L128 L80 L83 L127 A6 | L128 A37 L127 L83 L80 | L109 L60 L63 L110 A2 | L63 L60 L109 A24 L110 | A4 L124 L75 L72 L125 | L124 A34 L125 L72 L75 | L115 L55 L52 L116 A0 | L52 L55 L115 A28 L116 | L118 L64 L67 L119 A3 | L118 A30 L119 L67 L64 | A1 L112 L59 L56 L113 | L112 A26 L113 L56 L59
move or copy body "Move Body1" bodies to move or copy 1 copy no rotation origin (0, 0, 0) rotation axis (0, 0, 1) rotation angle 180
properties part number "middle"
